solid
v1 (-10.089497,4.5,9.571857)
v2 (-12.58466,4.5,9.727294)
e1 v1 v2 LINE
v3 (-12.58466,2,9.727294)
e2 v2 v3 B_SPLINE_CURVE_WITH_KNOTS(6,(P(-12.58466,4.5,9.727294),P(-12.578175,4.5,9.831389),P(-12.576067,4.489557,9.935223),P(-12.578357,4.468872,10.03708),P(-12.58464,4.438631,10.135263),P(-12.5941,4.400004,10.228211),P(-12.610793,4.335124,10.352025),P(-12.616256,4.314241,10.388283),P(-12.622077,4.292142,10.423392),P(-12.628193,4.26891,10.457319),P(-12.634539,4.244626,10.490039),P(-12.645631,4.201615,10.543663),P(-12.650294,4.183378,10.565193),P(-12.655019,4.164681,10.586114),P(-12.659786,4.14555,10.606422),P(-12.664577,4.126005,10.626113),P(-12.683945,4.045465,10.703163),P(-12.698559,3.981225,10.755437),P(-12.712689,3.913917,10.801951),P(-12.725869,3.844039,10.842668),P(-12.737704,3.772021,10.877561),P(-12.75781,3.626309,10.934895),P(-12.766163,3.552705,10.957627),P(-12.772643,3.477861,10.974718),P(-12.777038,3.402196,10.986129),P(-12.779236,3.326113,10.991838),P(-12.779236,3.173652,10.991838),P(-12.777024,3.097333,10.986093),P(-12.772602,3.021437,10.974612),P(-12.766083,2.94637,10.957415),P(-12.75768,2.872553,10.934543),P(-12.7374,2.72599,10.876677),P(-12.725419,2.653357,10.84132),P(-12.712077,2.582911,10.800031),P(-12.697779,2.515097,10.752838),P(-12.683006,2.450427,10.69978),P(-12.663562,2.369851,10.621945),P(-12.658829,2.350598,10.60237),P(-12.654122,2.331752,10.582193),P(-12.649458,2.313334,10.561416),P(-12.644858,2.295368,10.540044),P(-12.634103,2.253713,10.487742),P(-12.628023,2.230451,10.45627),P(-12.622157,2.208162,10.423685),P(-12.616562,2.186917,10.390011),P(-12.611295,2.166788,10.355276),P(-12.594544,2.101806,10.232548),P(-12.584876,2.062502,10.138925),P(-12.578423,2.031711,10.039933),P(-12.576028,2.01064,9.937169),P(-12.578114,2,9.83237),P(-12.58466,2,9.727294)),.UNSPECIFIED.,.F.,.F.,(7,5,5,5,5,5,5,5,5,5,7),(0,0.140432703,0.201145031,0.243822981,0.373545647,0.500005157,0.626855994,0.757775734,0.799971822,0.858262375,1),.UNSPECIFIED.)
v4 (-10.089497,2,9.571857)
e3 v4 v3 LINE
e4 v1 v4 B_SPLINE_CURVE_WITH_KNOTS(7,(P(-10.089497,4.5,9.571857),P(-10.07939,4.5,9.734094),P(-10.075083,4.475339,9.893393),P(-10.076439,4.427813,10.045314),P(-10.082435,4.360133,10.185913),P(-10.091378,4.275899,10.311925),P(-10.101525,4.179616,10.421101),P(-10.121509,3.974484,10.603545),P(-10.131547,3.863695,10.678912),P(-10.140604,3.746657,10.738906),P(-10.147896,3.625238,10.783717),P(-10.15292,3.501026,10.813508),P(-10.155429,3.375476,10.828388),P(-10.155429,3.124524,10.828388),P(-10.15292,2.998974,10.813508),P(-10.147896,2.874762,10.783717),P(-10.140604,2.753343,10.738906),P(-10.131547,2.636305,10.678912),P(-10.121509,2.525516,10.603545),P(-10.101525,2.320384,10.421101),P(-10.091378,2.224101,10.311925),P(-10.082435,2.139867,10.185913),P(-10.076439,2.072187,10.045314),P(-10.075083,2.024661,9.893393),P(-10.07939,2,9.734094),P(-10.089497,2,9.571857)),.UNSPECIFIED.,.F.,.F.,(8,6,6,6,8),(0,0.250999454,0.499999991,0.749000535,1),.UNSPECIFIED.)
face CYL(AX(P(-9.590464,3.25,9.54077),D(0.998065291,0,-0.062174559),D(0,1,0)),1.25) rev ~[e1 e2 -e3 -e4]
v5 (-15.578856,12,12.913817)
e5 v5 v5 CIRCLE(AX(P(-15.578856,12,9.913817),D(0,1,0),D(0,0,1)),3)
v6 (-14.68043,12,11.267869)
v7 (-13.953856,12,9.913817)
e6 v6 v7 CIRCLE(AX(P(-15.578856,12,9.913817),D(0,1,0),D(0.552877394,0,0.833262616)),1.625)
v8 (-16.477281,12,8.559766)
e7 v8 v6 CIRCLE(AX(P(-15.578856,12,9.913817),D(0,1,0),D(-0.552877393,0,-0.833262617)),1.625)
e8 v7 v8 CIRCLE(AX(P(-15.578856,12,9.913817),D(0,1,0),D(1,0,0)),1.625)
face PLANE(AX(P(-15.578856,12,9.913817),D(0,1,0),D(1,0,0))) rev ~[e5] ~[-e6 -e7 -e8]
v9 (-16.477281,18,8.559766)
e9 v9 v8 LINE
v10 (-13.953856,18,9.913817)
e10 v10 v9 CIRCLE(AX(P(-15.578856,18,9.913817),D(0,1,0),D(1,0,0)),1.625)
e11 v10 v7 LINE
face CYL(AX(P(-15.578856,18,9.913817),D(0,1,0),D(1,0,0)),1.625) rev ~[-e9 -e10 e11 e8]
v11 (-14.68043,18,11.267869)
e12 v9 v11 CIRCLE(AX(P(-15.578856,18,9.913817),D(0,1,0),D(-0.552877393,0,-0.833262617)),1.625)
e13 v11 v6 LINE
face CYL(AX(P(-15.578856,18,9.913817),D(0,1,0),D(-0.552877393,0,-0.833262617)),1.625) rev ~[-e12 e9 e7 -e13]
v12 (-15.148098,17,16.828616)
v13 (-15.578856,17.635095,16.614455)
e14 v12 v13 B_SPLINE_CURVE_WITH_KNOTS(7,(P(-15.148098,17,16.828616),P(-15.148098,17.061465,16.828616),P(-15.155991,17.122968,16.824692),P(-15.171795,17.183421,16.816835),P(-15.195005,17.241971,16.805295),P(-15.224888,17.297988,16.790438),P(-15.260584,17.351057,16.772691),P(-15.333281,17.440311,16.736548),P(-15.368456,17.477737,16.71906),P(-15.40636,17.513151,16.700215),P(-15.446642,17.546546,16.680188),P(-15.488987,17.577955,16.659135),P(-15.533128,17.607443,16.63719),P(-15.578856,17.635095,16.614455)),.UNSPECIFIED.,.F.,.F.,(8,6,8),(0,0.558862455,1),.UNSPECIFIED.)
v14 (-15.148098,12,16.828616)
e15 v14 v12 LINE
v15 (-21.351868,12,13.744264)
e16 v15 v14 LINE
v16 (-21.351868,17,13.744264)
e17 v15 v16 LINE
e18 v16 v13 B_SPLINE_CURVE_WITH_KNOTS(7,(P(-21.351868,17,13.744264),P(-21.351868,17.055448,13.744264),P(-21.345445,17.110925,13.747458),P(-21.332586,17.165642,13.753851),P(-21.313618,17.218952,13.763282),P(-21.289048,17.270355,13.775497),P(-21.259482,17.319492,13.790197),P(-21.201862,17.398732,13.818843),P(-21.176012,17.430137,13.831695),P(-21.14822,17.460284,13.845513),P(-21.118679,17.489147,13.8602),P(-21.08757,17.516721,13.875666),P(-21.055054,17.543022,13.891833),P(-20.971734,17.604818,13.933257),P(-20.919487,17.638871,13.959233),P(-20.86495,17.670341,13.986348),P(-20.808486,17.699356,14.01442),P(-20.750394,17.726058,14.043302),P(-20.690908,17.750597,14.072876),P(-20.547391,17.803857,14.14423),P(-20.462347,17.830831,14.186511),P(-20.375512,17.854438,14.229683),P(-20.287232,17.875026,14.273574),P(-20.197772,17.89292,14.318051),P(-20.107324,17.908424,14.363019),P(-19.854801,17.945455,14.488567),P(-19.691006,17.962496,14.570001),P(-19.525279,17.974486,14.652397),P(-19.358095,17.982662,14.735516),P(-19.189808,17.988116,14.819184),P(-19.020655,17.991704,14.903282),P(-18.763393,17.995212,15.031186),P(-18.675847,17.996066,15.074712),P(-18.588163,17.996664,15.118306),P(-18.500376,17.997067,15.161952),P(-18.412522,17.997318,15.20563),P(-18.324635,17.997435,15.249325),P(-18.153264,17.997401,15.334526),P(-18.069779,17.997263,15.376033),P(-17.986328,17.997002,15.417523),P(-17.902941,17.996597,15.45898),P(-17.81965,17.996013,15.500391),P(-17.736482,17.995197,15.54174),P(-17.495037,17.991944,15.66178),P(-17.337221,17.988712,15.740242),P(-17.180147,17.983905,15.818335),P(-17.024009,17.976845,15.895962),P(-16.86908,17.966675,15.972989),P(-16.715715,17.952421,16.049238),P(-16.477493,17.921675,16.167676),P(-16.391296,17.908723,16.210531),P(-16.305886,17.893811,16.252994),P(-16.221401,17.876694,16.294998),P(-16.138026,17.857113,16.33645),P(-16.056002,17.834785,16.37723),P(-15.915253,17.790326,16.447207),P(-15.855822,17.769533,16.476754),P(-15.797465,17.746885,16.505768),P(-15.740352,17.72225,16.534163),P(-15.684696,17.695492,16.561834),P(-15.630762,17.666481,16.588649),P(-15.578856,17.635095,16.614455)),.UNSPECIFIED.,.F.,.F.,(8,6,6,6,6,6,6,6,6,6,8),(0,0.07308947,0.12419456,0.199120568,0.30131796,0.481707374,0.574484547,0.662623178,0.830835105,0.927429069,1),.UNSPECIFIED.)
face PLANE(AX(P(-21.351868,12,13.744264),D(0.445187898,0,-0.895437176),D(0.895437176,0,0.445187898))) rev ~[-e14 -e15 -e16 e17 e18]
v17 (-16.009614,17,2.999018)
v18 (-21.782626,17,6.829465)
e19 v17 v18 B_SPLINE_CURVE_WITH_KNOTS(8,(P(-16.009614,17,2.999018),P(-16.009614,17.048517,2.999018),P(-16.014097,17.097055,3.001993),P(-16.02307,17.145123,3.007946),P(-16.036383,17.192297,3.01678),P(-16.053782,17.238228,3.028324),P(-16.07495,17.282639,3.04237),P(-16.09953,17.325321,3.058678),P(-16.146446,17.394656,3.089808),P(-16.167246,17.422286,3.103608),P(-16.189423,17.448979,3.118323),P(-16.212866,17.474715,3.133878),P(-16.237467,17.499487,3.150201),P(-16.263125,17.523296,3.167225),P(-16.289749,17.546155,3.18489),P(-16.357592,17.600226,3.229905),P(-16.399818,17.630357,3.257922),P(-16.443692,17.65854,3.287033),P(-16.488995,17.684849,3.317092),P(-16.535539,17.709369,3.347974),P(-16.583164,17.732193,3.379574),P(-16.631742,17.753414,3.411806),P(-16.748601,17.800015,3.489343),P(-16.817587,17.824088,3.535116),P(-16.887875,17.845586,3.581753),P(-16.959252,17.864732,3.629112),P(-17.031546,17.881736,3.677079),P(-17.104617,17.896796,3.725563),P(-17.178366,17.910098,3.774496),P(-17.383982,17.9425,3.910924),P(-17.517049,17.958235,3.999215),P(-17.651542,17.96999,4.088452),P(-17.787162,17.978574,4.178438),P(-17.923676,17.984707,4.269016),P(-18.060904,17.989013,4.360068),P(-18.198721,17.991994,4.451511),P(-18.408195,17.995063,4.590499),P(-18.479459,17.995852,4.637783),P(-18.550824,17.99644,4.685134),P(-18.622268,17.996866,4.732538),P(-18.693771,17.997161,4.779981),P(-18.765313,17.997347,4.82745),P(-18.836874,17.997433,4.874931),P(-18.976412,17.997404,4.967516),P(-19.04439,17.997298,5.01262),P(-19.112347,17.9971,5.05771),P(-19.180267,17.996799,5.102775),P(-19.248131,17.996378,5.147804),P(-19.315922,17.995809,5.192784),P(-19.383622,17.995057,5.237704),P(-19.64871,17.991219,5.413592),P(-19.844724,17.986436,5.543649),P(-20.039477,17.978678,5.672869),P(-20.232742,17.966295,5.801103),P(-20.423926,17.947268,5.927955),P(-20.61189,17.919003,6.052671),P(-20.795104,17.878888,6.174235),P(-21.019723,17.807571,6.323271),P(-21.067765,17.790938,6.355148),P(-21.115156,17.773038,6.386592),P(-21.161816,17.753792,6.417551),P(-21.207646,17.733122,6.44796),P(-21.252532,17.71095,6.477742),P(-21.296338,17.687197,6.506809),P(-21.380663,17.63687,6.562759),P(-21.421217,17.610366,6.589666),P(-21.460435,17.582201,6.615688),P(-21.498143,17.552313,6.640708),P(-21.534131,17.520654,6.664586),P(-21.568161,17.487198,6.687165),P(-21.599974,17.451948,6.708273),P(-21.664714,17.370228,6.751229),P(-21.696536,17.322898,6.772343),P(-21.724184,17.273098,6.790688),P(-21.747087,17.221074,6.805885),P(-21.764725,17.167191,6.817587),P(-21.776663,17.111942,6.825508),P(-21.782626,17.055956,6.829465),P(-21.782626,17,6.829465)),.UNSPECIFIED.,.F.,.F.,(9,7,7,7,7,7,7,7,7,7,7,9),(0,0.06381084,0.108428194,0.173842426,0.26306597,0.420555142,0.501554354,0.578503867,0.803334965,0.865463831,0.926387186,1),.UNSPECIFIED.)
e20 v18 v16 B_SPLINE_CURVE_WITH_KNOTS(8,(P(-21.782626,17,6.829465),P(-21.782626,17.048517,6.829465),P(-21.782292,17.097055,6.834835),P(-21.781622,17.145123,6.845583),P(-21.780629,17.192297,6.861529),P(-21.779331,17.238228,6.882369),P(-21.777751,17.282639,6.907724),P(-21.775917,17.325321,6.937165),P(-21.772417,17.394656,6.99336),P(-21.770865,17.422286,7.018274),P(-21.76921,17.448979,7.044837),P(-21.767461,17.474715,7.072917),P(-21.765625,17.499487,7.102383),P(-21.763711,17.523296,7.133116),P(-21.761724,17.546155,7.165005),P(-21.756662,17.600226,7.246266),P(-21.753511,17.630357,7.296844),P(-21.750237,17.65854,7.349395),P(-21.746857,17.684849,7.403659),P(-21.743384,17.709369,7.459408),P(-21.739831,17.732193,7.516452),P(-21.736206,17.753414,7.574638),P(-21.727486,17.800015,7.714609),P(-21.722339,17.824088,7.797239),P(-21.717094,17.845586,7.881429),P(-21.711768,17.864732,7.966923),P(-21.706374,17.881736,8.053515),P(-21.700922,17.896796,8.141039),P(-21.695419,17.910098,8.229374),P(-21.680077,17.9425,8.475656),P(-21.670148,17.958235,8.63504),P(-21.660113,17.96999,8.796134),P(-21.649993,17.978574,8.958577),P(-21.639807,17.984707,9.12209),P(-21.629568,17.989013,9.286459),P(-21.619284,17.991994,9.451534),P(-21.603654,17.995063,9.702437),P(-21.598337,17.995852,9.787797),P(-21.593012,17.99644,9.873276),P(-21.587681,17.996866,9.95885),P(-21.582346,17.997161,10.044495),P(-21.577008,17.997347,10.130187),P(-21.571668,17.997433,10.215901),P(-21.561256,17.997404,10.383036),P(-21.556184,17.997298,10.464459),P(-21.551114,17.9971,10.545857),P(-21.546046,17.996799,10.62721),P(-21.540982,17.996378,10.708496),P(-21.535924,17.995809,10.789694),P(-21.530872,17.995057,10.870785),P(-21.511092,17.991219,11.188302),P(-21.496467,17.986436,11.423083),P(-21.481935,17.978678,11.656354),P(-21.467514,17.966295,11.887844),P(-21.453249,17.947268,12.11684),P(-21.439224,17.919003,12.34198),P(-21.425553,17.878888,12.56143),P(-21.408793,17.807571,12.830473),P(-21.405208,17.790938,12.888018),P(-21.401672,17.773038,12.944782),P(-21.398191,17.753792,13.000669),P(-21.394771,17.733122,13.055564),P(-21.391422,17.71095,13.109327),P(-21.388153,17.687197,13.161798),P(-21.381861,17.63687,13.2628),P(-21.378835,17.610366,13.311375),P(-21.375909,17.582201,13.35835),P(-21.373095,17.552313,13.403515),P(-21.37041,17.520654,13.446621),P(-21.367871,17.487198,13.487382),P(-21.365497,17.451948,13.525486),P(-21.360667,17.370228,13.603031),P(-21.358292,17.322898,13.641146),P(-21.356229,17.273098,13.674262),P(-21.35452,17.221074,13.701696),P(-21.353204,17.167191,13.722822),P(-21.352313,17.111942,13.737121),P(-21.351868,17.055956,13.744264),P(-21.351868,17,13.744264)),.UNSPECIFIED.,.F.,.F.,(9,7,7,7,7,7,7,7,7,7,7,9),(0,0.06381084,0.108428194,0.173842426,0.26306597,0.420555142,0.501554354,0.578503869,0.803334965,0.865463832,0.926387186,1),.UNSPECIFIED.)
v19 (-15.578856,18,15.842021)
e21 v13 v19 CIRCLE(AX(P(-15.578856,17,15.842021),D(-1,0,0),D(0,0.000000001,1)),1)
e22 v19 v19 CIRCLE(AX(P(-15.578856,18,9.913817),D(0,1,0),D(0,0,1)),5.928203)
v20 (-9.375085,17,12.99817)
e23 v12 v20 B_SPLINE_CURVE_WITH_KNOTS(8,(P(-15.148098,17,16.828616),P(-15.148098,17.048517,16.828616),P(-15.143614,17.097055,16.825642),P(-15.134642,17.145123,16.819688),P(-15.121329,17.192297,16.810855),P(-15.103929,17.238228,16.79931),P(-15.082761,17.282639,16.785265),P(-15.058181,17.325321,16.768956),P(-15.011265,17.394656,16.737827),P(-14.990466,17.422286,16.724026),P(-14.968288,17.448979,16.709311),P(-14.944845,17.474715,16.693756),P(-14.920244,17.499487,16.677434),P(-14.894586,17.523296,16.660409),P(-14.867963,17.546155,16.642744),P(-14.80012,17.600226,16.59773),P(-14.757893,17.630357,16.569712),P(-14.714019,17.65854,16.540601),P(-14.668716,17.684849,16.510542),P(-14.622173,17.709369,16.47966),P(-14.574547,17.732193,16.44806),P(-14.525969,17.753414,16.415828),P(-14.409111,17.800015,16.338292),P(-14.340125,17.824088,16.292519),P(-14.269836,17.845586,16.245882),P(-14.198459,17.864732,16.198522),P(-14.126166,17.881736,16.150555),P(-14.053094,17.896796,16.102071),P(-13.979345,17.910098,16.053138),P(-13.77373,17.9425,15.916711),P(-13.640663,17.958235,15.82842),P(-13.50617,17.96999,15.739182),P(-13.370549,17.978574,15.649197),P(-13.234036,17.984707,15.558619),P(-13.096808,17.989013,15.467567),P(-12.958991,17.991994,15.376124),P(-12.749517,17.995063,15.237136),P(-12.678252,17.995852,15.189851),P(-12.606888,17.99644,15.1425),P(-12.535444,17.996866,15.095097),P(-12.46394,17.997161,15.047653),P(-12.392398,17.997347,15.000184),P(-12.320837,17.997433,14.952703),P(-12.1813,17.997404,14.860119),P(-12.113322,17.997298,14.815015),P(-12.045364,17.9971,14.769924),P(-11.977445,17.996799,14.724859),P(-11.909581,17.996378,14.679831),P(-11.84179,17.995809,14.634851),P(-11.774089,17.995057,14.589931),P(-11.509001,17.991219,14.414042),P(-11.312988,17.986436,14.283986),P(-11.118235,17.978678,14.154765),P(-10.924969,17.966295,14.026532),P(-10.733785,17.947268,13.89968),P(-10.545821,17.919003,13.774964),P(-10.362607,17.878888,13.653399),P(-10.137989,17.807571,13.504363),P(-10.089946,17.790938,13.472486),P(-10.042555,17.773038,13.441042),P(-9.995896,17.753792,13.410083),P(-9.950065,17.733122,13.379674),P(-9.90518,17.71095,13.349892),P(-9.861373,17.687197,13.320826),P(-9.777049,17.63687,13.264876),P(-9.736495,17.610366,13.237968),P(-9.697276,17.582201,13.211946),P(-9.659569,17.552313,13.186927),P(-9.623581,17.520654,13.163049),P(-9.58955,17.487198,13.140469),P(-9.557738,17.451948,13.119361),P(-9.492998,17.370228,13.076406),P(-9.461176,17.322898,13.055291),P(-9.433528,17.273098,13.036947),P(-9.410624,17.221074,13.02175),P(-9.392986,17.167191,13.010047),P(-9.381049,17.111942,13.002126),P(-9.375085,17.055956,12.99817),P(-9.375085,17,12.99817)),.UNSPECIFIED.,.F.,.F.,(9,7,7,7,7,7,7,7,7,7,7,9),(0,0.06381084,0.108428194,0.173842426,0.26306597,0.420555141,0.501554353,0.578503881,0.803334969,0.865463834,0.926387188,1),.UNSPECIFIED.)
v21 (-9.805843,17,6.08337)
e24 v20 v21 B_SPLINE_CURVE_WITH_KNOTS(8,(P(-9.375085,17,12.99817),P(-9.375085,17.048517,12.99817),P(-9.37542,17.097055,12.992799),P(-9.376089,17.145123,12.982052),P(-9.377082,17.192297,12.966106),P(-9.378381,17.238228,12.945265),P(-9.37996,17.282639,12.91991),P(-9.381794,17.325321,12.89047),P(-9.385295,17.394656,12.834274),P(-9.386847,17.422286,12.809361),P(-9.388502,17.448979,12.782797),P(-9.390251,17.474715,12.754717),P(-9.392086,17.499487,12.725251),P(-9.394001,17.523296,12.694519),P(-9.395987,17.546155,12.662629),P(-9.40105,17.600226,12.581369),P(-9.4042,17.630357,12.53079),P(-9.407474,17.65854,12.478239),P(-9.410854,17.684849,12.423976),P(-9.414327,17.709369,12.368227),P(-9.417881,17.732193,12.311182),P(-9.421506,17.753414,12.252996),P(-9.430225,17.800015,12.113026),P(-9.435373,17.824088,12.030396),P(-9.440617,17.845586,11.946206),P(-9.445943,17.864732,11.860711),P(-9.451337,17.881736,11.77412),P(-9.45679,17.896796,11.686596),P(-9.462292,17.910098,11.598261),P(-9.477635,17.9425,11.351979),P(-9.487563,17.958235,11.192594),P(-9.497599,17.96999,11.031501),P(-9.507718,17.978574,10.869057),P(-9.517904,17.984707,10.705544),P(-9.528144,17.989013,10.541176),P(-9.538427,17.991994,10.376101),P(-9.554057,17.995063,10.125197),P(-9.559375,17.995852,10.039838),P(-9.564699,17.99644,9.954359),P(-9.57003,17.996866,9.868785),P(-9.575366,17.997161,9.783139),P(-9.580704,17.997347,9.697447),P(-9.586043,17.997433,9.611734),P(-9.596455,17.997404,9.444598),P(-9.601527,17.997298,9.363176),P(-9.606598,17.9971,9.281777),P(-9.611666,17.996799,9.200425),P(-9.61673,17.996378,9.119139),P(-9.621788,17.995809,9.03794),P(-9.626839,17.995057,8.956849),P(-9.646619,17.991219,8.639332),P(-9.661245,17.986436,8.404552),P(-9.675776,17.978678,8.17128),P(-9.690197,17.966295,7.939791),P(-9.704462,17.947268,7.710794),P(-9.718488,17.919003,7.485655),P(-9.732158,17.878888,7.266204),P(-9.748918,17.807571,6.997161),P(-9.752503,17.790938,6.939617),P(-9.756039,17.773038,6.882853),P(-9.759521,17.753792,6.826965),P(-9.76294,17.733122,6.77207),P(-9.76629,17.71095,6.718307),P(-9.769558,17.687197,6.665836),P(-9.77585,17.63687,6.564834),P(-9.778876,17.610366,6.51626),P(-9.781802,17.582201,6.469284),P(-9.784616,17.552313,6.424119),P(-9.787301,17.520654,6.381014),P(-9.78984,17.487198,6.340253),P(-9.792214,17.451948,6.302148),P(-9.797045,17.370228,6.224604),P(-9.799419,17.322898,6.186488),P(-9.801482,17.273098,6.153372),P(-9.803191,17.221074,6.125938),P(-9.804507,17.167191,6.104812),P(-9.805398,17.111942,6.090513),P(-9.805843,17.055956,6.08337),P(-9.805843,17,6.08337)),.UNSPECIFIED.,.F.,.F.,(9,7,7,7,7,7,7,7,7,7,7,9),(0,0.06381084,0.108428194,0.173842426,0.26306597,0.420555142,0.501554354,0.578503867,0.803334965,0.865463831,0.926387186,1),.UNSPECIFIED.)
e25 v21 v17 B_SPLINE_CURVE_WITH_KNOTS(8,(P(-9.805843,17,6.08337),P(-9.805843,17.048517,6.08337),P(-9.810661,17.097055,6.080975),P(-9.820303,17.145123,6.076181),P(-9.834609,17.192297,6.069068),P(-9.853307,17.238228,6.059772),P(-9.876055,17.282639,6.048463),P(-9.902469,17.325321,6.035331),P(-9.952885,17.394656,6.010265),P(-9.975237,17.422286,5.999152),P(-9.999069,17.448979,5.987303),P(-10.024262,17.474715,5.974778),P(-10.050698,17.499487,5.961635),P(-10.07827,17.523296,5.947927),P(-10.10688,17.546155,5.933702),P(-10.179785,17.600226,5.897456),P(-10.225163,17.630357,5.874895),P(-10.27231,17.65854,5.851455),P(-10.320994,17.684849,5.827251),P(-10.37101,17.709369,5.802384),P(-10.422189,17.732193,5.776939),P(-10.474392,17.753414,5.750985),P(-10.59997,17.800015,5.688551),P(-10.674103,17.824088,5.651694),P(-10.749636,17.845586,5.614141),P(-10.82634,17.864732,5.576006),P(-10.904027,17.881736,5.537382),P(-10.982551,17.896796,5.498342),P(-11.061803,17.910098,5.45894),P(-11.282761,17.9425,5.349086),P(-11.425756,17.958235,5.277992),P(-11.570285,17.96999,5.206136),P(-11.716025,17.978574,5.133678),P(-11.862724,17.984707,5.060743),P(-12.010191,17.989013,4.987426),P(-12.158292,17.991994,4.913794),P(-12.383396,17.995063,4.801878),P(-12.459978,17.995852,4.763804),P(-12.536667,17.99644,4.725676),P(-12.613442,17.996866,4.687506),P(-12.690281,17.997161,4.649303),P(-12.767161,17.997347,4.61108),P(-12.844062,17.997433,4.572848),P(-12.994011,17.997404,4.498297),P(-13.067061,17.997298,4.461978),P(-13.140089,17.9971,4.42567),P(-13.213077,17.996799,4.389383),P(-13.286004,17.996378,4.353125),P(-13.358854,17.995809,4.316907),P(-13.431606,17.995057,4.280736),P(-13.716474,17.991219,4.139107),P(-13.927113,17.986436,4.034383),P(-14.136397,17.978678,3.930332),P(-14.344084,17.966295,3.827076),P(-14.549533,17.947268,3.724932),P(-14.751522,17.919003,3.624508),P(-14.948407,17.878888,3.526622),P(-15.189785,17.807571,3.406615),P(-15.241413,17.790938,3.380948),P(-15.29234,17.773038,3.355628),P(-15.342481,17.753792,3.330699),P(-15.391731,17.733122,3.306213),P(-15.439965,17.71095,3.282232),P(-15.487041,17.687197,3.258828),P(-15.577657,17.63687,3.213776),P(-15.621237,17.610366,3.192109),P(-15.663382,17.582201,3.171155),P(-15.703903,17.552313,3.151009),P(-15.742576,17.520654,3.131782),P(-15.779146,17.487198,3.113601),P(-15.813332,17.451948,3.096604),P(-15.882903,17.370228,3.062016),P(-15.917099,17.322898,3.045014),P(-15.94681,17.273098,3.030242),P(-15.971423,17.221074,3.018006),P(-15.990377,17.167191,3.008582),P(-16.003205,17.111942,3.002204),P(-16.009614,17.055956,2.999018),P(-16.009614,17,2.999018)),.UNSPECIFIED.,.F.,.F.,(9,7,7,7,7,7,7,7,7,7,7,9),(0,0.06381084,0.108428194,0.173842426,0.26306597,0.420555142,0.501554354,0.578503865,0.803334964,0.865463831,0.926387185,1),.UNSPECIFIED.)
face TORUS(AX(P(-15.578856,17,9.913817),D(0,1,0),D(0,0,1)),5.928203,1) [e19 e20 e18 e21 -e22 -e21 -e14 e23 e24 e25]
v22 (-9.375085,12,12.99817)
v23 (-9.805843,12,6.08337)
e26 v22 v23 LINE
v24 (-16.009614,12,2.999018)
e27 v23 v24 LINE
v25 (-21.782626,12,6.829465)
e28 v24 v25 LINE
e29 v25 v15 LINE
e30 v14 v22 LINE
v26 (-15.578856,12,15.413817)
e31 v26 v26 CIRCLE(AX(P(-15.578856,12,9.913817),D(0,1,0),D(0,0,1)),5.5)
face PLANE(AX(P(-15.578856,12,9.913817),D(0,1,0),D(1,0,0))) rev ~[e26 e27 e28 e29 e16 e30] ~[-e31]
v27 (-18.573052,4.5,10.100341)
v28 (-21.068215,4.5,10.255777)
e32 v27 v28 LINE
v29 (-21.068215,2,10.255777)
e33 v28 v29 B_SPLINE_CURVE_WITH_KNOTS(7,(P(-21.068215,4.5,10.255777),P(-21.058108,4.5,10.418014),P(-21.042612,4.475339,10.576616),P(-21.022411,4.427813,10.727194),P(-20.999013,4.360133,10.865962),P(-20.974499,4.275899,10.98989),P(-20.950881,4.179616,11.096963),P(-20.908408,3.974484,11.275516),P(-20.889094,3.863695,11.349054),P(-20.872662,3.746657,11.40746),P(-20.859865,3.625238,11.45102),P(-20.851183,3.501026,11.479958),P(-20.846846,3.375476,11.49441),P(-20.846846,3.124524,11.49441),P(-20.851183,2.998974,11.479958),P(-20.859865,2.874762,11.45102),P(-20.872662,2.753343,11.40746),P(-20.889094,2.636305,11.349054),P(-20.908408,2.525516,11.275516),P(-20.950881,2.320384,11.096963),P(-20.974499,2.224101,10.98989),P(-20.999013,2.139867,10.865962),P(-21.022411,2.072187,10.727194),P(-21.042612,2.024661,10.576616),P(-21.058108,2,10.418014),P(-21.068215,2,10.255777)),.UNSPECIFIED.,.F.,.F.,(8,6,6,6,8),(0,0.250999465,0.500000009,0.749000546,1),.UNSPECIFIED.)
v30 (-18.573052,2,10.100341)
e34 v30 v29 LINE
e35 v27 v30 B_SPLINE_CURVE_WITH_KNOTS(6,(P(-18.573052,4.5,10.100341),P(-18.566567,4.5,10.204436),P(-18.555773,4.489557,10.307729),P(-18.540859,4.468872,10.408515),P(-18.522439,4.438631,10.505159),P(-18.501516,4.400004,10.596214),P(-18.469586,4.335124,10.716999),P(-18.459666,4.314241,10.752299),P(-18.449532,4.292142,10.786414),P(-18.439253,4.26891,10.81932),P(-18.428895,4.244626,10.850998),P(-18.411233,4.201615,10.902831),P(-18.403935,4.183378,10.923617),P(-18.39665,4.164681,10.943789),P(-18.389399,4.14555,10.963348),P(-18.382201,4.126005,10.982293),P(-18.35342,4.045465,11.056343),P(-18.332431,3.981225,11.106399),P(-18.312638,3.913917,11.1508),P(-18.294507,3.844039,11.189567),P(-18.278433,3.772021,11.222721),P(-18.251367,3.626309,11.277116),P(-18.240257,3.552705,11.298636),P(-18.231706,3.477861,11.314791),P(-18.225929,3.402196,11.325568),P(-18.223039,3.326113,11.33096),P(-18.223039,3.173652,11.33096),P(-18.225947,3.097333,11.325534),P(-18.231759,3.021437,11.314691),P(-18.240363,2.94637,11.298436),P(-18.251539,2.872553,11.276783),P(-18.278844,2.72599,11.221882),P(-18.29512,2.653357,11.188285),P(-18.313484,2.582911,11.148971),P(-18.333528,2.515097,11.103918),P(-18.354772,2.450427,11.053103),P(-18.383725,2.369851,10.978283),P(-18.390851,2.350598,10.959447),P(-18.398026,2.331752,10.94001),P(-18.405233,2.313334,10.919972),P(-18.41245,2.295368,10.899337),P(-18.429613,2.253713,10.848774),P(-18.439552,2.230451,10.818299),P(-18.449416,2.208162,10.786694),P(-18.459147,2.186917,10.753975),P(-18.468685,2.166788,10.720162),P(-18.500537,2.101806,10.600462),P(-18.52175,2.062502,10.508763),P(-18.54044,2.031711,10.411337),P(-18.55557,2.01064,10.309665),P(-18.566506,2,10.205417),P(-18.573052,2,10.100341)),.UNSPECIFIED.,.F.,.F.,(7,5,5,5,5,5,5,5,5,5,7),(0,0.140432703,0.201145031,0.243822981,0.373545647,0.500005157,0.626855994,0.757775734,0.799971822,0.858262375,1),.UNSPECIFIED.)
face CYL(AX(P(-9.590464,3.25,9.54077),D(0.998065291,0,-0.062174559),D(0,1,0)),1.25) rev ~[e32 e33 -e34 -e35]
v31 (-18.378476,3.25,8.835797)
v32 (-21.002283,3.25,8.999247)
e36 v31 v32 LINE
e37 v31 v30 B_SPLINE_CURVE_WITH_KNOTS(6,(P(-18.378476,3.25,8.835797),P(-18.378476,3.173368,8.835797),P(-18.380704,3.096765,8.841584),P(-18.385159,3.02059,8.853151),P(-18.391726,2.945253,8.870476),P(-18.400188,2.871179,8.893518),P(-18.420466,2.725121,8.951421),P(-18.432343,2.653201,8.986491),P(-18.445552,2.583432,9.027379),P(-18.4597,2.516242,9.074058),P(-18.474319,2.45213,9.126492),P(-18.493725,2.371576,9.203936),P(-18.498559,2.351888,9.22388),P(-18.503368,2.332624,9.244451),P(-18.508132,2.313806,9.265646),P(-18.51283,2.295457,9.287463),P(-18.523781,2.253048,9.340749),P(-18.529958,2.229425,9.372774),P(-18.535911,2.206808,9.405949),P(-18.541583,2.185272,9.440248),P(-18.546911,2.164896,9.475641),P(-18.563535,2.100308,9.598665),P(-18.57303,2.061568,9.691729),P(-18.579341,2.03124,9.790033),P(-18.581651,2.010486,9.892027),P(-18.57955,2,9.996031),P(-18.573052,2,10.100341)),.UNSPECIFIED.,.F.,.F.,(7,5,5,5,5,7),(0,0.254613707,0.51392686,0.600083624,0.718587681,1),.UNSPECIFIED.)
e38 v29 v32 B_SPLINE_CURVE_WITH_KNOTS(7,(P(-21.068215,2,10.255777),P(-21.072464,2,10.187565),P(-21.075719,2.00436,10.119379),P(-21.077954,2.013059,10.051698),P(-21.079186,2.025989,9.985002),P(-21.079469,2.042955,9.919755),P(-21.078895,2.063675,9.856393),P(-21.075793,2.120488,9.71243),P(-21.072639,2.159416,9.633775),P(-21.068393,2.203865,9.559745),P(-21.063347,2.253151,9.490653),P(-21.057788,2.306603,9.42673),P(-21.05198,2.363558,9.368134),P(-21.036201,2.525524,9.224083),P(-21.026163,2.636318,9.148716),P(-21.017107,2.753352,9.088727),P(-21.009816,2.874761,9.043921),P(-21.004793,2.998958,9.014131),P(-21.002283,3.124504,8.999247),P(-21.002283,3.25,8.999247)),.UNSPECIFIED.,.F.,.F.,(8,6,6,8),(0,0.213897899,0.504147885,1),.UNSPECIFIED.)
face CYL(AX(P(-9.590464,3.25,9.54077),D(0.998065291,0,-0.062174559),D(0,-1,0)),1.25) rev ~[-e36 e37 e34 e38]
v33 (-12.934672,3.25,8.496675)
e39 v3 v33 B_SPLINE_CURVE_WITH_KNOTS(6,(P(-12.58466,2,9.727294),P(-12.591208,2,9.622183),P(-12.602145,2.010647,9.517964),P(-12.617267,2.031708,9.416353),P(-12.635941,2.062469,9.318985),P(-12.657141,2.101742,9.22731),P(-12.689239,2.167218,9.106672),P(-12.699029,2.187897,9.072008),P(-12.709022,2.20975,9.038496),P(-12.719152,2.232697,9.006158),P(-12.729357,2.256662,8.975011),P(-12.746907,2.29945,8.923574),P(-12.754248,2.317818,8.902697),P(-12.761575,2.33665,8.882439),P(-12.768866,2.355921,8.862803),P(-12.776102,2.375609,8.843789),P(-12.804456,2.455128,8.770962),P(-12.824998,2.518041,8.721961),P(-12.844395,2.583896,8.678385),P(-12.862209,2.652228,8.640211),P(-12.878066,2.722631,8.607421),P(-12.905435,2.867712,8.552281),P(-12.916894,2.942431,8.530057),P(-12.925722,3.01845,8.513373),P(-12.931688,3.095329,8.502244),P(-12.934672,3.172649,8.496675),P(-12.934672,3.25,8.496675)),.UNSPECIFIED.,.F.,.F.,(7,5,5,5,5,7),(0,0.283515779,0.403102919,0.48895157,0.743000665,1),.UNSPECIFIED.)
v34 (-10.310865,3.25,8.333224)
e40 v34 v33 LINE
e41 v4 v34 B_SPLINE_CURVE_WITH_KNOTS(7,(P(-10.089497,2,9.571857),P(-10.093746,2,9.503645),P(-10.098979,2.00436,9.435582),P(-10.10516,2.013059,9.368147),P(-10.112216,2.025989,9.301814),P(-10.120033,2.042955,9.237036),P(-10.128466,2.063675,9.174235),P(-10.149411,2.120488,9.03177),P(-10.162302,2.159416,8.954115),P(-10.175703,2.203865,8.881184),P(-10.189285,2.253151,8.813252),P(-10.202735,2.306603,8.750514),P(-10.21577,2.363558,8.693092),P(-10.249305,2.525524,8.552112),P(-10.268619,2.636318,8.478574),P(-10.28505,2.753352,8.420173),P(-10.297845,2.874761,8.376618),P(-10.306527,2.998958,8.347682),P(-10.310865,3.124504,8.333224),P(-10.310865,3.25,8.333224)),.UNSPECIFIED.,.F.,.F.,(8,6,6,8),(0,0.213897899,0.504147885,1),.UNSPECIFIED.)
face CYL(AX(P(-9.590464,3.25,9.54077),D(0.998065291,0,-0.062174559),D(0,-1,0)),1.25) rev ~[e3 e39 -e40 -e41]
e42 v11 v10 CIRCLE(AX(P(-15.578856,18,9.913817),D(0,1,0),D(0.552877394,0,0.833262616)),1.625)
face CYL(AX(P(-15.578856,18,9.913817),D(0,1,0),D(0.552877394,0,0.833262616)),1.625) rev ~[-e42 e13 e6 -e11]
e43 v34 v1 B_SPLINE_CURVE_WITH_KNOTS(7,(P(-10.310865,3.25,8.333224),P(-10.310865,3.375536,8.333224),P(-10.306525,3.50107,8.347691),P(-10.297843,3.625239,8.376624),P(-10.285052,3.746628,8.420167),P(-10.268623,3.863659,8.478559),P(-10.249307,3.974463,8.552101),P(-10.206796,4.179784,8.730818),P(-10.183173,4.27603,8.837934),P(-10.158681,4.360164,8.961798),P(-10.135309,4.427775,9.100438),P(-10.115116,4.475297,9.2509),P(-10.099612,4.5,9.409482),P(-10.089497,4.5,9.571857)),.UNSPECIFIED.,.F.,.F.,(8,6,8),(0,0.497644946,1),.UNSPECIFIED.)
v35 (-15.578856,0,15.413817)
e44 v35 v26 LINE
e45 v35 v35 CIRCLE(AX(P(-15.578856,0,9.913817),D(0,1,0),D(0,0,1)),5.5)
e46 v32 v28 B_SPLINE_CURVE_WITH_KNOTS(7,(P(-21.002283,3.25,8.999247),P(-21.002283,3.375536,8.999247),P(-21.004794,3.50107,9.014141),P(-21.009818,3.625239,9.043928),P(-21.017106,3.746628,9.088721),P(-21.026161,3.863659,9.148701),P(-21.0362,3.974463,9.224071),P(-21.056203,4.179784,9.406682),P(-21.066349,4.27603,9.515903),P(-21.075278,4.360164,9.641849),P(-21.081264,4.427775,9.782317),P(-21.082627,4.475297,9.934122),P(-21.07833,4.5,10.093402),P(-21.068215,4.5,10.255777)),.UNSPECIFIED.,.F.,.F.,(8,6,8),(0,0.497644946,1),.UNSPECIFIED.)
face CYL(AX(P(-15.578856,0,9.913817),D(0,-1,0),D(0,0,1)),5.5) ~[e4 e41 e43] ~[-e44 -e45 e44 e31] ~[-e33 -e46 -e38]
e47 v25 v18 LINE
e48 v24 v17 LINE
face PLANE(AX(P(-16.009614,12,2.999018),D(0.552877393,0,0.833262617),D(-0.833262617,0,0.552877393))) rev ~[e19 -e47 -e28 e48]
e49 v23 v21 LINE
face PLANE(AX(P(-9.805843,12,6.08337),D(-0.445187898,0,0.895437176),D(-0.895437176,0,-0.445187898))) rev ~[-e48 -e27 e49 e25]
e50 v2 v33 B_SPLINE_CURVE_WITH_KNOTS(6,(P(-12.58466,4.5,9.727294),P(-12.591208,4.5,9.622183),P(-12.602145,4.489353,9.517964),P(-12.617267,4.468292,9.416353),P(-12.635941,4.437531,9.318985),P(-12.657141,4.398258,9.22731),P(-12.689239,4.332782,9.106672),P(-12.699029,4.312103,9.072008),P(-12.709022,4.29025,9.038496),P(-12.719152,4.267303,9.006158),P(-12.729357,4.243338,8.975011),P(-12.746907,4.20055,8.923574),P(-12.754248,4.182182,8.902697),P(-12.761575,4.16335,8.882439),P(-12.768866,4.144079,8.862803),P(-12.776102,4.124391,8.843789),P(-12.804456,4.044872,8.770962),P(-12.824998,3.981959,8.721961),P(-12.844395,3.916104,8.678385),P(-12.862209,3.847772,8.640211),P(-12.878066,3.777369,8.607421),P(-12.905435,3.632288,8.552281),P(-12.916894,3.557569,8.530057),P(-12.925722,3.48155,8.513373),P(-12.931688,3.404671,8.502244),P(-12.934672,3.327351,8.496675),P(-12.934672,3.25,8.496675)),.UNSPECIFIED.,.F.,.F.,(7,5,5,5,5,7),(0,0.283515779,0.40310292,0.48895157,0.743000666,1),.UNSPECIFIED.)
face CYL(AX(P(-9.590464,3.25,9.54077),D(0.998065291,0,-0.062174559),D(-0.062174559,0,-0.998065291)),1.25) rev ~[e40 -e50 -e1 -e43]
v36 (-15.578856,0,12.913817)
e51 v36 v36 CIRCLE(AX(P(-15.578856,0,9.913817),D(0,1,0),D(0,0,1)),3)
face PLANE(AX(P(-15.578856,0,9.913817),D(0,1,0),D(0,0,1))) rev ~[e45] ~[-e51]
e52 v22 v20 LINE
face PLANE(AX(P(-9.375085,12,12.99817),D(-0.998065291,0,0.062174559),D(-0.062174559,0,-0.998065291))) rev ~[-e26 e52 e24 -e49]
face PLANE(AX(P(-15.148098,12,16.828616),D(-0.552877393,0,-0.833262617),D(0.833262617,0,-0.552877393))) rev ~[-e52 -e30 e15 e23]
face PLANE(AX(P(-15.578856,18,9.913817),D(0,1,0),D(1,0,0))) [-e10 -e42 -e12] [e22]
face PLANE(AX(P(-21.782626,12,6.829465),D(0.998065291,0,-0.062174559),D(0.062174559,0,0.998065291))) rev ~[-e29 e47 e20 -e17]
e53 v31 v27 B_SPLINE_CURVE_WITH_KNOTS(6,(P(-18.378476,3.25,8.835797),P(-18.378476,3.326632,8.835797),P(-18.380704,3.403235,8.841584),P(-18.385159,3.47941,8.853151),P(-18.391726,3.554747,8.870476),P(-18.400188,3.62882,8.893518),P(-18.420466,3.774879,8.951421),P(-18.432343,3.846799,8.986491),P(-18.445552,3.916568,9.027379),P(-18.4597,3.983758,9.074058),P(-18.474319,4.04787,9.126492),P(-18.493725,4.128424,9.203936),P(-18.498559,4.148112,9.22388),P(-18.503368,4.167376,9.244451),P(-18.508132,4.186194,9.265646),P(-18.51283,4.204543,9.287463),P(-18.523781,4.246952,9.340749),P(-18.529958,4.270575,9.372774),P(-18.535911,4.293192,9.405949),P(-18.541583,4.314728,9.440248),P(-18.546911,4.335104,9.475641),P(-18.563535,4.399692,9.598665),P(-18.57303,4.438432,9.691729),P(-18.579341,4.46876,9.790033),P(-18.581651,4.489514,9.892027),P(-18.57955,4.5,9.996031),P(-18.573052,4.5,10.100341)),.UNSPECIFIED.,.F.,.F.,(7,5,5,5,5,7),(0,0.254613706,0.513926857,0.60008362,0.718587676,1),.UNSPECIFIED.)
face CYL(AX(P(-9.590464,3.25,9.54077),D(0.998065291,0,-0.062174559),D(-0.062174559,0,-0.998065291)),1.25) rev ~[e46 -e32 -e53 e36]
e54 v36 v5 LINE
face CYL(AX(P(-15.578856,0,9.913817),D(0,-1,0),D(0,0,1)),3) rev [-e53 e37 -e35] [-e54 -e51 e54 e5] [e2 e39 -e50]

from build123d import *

# Parameters (mm, degrees)
SKETCH1_R           = 5.5
SKETCH1_R_2         = 3
BOSS_EXTRUDE1_DEPTH = 12
BOSS_EXTRUDE2_DEPTH = 6
CUT_EXTRUDE1_DEPTH  = 17
CUT_EXTRUDE4_DEPTH  = 22


with BuildPart() as part:
    # Sketch1 → Boss-Extrude1 (new body)
    with BuildSketch(Plane(origin=(0, 0, 0), x_dir=(1, 0, 0), z_dir=(0, 1, 0))):
        with Locations(Location((-15.57885573, -9.913817283, 0), (0, 0, 270))):
            Circle(SKETCH1_R)
        with Locations(Location((-15.57885573, -9.913817283, 0), (0, 0, 270))):
            Circle(SKETCH1_R_2, mode=Mode.SUBTRACT)
    extrude(amount=BOSS_EXTRUDE1_DEPTH)

    # Sketch2 → Boss-Extrude2 (add)
    with BuildSketch(Plane(origin=(0, 12, 0), x_dir=(1, 0, 0), z_dir=(0, 1, 0))):
        Polygon((-15.148097749, -16.828616453), (-9.375084996, -12.998169513), (-9.805842977, -6.083370343), (-16.009613711, -2.999018113), (-21.782626464, -6.829465052), (-21.351868483, -13.744264222), align=None)
    extrude(amount=BOSS_EXTRUDE2_DEPTH)

    # Sketch3 → Cut-Extrude1 (cut)
    with BuildSketch(Plane(origin=(0, 18, 0), x_dir=(1, 0, 0), z_dir=(0, 1, 0))):
        with BuildLine():
            ThreePointArc((-13.95385573, -9.913817283), (-14.810518846, -8.481936201), (-16.477281493, -8.55976553))
            Line((-16.477281493, -8.55976553), (-14.680429966, -11.267869035))
            ThreePointArc((-14.680429966, -11.267869035), (-14.146974648, -10.682154166), (-13.95385573, -9.913817283))
        make_face()
        with BuildLine():
            Line((-14.680429966, -11.267869035), (-16.477281493, -8.55976553))
            ThreePointArc((-16.477281493, -8.55976553), (-16.932907482, -10.812243046), (-14.680429966, -11.267869035))
        make_face()
    extrude(amount=-CUT_EXTRUDE1_DEPTH, mode=Mode.SUBTRACT)

    # Sketch5 → Cut-Revolve1 (revolve, cut)
    with BuildSketch(Plane(origin=(-16.133827612, 0, 1.005058114), x_dir=(0.06217455908352037, 0, 0.9980652905510591), z_dir=(-0.9980652905510591, 0, 0.06217455908352037)), mode=Mode.PRIVATE) as cut_revolve1_sk:
        with BuildLine():
            Line((15.854231671, 18), (15.854231671, 17))
            ThreePointArc((15.854231671, 17), (15.561338452, 17.707106781), (14.854231671, 18))
            Line((14.854231671, 18), (15.854231671, 18))
        make_face()
    revolve(cut_revolve1_sk.sketch.rotate(Axis((-15.57885573, 18, 9.913817283), (0, 1, 0)), 356.435361028), axis=Axis((-15.57885573, 18, 9.913817283), (0, 1, 0)), mode=Mode.SUBTRACT)

    # Sketch6 → Cut-Extrude4 (cut)
    with BuildSketch(Plane(origin=(-10.145435869, 0, 0.632010759), x_dir=(-0.06217455908352025, 0, -0.9980652905510591), z_dir=(0.9980652905510591, 0, -0.06217455908352025))):
        with BuildLine():
            ThreePointArc((-8.926028441, 4.5), (-10.176028441, 3.25), (-8.926028441, 2))
            Line((-8.926028441, 2), (-8.926028441, 4.5))
        make_face()
        with BuildLine():
            Line((-8.926028441, 4.5), (-8.926028441, 2))
            ThreePointArc((-8.926028441, 2), (-8.042144964, 2.366116524), (-7.676028441, 3.25))
            ThreePointArc((-7.676028441, 3.25), (-8.042144964, 4.133883476), (-8.926028441, 4.5))
        make_face()
    extrude(amount=-CUT_EXTRUDE4_DEPTH, mode=Mode.SUBTRACT)


solid = part.part
